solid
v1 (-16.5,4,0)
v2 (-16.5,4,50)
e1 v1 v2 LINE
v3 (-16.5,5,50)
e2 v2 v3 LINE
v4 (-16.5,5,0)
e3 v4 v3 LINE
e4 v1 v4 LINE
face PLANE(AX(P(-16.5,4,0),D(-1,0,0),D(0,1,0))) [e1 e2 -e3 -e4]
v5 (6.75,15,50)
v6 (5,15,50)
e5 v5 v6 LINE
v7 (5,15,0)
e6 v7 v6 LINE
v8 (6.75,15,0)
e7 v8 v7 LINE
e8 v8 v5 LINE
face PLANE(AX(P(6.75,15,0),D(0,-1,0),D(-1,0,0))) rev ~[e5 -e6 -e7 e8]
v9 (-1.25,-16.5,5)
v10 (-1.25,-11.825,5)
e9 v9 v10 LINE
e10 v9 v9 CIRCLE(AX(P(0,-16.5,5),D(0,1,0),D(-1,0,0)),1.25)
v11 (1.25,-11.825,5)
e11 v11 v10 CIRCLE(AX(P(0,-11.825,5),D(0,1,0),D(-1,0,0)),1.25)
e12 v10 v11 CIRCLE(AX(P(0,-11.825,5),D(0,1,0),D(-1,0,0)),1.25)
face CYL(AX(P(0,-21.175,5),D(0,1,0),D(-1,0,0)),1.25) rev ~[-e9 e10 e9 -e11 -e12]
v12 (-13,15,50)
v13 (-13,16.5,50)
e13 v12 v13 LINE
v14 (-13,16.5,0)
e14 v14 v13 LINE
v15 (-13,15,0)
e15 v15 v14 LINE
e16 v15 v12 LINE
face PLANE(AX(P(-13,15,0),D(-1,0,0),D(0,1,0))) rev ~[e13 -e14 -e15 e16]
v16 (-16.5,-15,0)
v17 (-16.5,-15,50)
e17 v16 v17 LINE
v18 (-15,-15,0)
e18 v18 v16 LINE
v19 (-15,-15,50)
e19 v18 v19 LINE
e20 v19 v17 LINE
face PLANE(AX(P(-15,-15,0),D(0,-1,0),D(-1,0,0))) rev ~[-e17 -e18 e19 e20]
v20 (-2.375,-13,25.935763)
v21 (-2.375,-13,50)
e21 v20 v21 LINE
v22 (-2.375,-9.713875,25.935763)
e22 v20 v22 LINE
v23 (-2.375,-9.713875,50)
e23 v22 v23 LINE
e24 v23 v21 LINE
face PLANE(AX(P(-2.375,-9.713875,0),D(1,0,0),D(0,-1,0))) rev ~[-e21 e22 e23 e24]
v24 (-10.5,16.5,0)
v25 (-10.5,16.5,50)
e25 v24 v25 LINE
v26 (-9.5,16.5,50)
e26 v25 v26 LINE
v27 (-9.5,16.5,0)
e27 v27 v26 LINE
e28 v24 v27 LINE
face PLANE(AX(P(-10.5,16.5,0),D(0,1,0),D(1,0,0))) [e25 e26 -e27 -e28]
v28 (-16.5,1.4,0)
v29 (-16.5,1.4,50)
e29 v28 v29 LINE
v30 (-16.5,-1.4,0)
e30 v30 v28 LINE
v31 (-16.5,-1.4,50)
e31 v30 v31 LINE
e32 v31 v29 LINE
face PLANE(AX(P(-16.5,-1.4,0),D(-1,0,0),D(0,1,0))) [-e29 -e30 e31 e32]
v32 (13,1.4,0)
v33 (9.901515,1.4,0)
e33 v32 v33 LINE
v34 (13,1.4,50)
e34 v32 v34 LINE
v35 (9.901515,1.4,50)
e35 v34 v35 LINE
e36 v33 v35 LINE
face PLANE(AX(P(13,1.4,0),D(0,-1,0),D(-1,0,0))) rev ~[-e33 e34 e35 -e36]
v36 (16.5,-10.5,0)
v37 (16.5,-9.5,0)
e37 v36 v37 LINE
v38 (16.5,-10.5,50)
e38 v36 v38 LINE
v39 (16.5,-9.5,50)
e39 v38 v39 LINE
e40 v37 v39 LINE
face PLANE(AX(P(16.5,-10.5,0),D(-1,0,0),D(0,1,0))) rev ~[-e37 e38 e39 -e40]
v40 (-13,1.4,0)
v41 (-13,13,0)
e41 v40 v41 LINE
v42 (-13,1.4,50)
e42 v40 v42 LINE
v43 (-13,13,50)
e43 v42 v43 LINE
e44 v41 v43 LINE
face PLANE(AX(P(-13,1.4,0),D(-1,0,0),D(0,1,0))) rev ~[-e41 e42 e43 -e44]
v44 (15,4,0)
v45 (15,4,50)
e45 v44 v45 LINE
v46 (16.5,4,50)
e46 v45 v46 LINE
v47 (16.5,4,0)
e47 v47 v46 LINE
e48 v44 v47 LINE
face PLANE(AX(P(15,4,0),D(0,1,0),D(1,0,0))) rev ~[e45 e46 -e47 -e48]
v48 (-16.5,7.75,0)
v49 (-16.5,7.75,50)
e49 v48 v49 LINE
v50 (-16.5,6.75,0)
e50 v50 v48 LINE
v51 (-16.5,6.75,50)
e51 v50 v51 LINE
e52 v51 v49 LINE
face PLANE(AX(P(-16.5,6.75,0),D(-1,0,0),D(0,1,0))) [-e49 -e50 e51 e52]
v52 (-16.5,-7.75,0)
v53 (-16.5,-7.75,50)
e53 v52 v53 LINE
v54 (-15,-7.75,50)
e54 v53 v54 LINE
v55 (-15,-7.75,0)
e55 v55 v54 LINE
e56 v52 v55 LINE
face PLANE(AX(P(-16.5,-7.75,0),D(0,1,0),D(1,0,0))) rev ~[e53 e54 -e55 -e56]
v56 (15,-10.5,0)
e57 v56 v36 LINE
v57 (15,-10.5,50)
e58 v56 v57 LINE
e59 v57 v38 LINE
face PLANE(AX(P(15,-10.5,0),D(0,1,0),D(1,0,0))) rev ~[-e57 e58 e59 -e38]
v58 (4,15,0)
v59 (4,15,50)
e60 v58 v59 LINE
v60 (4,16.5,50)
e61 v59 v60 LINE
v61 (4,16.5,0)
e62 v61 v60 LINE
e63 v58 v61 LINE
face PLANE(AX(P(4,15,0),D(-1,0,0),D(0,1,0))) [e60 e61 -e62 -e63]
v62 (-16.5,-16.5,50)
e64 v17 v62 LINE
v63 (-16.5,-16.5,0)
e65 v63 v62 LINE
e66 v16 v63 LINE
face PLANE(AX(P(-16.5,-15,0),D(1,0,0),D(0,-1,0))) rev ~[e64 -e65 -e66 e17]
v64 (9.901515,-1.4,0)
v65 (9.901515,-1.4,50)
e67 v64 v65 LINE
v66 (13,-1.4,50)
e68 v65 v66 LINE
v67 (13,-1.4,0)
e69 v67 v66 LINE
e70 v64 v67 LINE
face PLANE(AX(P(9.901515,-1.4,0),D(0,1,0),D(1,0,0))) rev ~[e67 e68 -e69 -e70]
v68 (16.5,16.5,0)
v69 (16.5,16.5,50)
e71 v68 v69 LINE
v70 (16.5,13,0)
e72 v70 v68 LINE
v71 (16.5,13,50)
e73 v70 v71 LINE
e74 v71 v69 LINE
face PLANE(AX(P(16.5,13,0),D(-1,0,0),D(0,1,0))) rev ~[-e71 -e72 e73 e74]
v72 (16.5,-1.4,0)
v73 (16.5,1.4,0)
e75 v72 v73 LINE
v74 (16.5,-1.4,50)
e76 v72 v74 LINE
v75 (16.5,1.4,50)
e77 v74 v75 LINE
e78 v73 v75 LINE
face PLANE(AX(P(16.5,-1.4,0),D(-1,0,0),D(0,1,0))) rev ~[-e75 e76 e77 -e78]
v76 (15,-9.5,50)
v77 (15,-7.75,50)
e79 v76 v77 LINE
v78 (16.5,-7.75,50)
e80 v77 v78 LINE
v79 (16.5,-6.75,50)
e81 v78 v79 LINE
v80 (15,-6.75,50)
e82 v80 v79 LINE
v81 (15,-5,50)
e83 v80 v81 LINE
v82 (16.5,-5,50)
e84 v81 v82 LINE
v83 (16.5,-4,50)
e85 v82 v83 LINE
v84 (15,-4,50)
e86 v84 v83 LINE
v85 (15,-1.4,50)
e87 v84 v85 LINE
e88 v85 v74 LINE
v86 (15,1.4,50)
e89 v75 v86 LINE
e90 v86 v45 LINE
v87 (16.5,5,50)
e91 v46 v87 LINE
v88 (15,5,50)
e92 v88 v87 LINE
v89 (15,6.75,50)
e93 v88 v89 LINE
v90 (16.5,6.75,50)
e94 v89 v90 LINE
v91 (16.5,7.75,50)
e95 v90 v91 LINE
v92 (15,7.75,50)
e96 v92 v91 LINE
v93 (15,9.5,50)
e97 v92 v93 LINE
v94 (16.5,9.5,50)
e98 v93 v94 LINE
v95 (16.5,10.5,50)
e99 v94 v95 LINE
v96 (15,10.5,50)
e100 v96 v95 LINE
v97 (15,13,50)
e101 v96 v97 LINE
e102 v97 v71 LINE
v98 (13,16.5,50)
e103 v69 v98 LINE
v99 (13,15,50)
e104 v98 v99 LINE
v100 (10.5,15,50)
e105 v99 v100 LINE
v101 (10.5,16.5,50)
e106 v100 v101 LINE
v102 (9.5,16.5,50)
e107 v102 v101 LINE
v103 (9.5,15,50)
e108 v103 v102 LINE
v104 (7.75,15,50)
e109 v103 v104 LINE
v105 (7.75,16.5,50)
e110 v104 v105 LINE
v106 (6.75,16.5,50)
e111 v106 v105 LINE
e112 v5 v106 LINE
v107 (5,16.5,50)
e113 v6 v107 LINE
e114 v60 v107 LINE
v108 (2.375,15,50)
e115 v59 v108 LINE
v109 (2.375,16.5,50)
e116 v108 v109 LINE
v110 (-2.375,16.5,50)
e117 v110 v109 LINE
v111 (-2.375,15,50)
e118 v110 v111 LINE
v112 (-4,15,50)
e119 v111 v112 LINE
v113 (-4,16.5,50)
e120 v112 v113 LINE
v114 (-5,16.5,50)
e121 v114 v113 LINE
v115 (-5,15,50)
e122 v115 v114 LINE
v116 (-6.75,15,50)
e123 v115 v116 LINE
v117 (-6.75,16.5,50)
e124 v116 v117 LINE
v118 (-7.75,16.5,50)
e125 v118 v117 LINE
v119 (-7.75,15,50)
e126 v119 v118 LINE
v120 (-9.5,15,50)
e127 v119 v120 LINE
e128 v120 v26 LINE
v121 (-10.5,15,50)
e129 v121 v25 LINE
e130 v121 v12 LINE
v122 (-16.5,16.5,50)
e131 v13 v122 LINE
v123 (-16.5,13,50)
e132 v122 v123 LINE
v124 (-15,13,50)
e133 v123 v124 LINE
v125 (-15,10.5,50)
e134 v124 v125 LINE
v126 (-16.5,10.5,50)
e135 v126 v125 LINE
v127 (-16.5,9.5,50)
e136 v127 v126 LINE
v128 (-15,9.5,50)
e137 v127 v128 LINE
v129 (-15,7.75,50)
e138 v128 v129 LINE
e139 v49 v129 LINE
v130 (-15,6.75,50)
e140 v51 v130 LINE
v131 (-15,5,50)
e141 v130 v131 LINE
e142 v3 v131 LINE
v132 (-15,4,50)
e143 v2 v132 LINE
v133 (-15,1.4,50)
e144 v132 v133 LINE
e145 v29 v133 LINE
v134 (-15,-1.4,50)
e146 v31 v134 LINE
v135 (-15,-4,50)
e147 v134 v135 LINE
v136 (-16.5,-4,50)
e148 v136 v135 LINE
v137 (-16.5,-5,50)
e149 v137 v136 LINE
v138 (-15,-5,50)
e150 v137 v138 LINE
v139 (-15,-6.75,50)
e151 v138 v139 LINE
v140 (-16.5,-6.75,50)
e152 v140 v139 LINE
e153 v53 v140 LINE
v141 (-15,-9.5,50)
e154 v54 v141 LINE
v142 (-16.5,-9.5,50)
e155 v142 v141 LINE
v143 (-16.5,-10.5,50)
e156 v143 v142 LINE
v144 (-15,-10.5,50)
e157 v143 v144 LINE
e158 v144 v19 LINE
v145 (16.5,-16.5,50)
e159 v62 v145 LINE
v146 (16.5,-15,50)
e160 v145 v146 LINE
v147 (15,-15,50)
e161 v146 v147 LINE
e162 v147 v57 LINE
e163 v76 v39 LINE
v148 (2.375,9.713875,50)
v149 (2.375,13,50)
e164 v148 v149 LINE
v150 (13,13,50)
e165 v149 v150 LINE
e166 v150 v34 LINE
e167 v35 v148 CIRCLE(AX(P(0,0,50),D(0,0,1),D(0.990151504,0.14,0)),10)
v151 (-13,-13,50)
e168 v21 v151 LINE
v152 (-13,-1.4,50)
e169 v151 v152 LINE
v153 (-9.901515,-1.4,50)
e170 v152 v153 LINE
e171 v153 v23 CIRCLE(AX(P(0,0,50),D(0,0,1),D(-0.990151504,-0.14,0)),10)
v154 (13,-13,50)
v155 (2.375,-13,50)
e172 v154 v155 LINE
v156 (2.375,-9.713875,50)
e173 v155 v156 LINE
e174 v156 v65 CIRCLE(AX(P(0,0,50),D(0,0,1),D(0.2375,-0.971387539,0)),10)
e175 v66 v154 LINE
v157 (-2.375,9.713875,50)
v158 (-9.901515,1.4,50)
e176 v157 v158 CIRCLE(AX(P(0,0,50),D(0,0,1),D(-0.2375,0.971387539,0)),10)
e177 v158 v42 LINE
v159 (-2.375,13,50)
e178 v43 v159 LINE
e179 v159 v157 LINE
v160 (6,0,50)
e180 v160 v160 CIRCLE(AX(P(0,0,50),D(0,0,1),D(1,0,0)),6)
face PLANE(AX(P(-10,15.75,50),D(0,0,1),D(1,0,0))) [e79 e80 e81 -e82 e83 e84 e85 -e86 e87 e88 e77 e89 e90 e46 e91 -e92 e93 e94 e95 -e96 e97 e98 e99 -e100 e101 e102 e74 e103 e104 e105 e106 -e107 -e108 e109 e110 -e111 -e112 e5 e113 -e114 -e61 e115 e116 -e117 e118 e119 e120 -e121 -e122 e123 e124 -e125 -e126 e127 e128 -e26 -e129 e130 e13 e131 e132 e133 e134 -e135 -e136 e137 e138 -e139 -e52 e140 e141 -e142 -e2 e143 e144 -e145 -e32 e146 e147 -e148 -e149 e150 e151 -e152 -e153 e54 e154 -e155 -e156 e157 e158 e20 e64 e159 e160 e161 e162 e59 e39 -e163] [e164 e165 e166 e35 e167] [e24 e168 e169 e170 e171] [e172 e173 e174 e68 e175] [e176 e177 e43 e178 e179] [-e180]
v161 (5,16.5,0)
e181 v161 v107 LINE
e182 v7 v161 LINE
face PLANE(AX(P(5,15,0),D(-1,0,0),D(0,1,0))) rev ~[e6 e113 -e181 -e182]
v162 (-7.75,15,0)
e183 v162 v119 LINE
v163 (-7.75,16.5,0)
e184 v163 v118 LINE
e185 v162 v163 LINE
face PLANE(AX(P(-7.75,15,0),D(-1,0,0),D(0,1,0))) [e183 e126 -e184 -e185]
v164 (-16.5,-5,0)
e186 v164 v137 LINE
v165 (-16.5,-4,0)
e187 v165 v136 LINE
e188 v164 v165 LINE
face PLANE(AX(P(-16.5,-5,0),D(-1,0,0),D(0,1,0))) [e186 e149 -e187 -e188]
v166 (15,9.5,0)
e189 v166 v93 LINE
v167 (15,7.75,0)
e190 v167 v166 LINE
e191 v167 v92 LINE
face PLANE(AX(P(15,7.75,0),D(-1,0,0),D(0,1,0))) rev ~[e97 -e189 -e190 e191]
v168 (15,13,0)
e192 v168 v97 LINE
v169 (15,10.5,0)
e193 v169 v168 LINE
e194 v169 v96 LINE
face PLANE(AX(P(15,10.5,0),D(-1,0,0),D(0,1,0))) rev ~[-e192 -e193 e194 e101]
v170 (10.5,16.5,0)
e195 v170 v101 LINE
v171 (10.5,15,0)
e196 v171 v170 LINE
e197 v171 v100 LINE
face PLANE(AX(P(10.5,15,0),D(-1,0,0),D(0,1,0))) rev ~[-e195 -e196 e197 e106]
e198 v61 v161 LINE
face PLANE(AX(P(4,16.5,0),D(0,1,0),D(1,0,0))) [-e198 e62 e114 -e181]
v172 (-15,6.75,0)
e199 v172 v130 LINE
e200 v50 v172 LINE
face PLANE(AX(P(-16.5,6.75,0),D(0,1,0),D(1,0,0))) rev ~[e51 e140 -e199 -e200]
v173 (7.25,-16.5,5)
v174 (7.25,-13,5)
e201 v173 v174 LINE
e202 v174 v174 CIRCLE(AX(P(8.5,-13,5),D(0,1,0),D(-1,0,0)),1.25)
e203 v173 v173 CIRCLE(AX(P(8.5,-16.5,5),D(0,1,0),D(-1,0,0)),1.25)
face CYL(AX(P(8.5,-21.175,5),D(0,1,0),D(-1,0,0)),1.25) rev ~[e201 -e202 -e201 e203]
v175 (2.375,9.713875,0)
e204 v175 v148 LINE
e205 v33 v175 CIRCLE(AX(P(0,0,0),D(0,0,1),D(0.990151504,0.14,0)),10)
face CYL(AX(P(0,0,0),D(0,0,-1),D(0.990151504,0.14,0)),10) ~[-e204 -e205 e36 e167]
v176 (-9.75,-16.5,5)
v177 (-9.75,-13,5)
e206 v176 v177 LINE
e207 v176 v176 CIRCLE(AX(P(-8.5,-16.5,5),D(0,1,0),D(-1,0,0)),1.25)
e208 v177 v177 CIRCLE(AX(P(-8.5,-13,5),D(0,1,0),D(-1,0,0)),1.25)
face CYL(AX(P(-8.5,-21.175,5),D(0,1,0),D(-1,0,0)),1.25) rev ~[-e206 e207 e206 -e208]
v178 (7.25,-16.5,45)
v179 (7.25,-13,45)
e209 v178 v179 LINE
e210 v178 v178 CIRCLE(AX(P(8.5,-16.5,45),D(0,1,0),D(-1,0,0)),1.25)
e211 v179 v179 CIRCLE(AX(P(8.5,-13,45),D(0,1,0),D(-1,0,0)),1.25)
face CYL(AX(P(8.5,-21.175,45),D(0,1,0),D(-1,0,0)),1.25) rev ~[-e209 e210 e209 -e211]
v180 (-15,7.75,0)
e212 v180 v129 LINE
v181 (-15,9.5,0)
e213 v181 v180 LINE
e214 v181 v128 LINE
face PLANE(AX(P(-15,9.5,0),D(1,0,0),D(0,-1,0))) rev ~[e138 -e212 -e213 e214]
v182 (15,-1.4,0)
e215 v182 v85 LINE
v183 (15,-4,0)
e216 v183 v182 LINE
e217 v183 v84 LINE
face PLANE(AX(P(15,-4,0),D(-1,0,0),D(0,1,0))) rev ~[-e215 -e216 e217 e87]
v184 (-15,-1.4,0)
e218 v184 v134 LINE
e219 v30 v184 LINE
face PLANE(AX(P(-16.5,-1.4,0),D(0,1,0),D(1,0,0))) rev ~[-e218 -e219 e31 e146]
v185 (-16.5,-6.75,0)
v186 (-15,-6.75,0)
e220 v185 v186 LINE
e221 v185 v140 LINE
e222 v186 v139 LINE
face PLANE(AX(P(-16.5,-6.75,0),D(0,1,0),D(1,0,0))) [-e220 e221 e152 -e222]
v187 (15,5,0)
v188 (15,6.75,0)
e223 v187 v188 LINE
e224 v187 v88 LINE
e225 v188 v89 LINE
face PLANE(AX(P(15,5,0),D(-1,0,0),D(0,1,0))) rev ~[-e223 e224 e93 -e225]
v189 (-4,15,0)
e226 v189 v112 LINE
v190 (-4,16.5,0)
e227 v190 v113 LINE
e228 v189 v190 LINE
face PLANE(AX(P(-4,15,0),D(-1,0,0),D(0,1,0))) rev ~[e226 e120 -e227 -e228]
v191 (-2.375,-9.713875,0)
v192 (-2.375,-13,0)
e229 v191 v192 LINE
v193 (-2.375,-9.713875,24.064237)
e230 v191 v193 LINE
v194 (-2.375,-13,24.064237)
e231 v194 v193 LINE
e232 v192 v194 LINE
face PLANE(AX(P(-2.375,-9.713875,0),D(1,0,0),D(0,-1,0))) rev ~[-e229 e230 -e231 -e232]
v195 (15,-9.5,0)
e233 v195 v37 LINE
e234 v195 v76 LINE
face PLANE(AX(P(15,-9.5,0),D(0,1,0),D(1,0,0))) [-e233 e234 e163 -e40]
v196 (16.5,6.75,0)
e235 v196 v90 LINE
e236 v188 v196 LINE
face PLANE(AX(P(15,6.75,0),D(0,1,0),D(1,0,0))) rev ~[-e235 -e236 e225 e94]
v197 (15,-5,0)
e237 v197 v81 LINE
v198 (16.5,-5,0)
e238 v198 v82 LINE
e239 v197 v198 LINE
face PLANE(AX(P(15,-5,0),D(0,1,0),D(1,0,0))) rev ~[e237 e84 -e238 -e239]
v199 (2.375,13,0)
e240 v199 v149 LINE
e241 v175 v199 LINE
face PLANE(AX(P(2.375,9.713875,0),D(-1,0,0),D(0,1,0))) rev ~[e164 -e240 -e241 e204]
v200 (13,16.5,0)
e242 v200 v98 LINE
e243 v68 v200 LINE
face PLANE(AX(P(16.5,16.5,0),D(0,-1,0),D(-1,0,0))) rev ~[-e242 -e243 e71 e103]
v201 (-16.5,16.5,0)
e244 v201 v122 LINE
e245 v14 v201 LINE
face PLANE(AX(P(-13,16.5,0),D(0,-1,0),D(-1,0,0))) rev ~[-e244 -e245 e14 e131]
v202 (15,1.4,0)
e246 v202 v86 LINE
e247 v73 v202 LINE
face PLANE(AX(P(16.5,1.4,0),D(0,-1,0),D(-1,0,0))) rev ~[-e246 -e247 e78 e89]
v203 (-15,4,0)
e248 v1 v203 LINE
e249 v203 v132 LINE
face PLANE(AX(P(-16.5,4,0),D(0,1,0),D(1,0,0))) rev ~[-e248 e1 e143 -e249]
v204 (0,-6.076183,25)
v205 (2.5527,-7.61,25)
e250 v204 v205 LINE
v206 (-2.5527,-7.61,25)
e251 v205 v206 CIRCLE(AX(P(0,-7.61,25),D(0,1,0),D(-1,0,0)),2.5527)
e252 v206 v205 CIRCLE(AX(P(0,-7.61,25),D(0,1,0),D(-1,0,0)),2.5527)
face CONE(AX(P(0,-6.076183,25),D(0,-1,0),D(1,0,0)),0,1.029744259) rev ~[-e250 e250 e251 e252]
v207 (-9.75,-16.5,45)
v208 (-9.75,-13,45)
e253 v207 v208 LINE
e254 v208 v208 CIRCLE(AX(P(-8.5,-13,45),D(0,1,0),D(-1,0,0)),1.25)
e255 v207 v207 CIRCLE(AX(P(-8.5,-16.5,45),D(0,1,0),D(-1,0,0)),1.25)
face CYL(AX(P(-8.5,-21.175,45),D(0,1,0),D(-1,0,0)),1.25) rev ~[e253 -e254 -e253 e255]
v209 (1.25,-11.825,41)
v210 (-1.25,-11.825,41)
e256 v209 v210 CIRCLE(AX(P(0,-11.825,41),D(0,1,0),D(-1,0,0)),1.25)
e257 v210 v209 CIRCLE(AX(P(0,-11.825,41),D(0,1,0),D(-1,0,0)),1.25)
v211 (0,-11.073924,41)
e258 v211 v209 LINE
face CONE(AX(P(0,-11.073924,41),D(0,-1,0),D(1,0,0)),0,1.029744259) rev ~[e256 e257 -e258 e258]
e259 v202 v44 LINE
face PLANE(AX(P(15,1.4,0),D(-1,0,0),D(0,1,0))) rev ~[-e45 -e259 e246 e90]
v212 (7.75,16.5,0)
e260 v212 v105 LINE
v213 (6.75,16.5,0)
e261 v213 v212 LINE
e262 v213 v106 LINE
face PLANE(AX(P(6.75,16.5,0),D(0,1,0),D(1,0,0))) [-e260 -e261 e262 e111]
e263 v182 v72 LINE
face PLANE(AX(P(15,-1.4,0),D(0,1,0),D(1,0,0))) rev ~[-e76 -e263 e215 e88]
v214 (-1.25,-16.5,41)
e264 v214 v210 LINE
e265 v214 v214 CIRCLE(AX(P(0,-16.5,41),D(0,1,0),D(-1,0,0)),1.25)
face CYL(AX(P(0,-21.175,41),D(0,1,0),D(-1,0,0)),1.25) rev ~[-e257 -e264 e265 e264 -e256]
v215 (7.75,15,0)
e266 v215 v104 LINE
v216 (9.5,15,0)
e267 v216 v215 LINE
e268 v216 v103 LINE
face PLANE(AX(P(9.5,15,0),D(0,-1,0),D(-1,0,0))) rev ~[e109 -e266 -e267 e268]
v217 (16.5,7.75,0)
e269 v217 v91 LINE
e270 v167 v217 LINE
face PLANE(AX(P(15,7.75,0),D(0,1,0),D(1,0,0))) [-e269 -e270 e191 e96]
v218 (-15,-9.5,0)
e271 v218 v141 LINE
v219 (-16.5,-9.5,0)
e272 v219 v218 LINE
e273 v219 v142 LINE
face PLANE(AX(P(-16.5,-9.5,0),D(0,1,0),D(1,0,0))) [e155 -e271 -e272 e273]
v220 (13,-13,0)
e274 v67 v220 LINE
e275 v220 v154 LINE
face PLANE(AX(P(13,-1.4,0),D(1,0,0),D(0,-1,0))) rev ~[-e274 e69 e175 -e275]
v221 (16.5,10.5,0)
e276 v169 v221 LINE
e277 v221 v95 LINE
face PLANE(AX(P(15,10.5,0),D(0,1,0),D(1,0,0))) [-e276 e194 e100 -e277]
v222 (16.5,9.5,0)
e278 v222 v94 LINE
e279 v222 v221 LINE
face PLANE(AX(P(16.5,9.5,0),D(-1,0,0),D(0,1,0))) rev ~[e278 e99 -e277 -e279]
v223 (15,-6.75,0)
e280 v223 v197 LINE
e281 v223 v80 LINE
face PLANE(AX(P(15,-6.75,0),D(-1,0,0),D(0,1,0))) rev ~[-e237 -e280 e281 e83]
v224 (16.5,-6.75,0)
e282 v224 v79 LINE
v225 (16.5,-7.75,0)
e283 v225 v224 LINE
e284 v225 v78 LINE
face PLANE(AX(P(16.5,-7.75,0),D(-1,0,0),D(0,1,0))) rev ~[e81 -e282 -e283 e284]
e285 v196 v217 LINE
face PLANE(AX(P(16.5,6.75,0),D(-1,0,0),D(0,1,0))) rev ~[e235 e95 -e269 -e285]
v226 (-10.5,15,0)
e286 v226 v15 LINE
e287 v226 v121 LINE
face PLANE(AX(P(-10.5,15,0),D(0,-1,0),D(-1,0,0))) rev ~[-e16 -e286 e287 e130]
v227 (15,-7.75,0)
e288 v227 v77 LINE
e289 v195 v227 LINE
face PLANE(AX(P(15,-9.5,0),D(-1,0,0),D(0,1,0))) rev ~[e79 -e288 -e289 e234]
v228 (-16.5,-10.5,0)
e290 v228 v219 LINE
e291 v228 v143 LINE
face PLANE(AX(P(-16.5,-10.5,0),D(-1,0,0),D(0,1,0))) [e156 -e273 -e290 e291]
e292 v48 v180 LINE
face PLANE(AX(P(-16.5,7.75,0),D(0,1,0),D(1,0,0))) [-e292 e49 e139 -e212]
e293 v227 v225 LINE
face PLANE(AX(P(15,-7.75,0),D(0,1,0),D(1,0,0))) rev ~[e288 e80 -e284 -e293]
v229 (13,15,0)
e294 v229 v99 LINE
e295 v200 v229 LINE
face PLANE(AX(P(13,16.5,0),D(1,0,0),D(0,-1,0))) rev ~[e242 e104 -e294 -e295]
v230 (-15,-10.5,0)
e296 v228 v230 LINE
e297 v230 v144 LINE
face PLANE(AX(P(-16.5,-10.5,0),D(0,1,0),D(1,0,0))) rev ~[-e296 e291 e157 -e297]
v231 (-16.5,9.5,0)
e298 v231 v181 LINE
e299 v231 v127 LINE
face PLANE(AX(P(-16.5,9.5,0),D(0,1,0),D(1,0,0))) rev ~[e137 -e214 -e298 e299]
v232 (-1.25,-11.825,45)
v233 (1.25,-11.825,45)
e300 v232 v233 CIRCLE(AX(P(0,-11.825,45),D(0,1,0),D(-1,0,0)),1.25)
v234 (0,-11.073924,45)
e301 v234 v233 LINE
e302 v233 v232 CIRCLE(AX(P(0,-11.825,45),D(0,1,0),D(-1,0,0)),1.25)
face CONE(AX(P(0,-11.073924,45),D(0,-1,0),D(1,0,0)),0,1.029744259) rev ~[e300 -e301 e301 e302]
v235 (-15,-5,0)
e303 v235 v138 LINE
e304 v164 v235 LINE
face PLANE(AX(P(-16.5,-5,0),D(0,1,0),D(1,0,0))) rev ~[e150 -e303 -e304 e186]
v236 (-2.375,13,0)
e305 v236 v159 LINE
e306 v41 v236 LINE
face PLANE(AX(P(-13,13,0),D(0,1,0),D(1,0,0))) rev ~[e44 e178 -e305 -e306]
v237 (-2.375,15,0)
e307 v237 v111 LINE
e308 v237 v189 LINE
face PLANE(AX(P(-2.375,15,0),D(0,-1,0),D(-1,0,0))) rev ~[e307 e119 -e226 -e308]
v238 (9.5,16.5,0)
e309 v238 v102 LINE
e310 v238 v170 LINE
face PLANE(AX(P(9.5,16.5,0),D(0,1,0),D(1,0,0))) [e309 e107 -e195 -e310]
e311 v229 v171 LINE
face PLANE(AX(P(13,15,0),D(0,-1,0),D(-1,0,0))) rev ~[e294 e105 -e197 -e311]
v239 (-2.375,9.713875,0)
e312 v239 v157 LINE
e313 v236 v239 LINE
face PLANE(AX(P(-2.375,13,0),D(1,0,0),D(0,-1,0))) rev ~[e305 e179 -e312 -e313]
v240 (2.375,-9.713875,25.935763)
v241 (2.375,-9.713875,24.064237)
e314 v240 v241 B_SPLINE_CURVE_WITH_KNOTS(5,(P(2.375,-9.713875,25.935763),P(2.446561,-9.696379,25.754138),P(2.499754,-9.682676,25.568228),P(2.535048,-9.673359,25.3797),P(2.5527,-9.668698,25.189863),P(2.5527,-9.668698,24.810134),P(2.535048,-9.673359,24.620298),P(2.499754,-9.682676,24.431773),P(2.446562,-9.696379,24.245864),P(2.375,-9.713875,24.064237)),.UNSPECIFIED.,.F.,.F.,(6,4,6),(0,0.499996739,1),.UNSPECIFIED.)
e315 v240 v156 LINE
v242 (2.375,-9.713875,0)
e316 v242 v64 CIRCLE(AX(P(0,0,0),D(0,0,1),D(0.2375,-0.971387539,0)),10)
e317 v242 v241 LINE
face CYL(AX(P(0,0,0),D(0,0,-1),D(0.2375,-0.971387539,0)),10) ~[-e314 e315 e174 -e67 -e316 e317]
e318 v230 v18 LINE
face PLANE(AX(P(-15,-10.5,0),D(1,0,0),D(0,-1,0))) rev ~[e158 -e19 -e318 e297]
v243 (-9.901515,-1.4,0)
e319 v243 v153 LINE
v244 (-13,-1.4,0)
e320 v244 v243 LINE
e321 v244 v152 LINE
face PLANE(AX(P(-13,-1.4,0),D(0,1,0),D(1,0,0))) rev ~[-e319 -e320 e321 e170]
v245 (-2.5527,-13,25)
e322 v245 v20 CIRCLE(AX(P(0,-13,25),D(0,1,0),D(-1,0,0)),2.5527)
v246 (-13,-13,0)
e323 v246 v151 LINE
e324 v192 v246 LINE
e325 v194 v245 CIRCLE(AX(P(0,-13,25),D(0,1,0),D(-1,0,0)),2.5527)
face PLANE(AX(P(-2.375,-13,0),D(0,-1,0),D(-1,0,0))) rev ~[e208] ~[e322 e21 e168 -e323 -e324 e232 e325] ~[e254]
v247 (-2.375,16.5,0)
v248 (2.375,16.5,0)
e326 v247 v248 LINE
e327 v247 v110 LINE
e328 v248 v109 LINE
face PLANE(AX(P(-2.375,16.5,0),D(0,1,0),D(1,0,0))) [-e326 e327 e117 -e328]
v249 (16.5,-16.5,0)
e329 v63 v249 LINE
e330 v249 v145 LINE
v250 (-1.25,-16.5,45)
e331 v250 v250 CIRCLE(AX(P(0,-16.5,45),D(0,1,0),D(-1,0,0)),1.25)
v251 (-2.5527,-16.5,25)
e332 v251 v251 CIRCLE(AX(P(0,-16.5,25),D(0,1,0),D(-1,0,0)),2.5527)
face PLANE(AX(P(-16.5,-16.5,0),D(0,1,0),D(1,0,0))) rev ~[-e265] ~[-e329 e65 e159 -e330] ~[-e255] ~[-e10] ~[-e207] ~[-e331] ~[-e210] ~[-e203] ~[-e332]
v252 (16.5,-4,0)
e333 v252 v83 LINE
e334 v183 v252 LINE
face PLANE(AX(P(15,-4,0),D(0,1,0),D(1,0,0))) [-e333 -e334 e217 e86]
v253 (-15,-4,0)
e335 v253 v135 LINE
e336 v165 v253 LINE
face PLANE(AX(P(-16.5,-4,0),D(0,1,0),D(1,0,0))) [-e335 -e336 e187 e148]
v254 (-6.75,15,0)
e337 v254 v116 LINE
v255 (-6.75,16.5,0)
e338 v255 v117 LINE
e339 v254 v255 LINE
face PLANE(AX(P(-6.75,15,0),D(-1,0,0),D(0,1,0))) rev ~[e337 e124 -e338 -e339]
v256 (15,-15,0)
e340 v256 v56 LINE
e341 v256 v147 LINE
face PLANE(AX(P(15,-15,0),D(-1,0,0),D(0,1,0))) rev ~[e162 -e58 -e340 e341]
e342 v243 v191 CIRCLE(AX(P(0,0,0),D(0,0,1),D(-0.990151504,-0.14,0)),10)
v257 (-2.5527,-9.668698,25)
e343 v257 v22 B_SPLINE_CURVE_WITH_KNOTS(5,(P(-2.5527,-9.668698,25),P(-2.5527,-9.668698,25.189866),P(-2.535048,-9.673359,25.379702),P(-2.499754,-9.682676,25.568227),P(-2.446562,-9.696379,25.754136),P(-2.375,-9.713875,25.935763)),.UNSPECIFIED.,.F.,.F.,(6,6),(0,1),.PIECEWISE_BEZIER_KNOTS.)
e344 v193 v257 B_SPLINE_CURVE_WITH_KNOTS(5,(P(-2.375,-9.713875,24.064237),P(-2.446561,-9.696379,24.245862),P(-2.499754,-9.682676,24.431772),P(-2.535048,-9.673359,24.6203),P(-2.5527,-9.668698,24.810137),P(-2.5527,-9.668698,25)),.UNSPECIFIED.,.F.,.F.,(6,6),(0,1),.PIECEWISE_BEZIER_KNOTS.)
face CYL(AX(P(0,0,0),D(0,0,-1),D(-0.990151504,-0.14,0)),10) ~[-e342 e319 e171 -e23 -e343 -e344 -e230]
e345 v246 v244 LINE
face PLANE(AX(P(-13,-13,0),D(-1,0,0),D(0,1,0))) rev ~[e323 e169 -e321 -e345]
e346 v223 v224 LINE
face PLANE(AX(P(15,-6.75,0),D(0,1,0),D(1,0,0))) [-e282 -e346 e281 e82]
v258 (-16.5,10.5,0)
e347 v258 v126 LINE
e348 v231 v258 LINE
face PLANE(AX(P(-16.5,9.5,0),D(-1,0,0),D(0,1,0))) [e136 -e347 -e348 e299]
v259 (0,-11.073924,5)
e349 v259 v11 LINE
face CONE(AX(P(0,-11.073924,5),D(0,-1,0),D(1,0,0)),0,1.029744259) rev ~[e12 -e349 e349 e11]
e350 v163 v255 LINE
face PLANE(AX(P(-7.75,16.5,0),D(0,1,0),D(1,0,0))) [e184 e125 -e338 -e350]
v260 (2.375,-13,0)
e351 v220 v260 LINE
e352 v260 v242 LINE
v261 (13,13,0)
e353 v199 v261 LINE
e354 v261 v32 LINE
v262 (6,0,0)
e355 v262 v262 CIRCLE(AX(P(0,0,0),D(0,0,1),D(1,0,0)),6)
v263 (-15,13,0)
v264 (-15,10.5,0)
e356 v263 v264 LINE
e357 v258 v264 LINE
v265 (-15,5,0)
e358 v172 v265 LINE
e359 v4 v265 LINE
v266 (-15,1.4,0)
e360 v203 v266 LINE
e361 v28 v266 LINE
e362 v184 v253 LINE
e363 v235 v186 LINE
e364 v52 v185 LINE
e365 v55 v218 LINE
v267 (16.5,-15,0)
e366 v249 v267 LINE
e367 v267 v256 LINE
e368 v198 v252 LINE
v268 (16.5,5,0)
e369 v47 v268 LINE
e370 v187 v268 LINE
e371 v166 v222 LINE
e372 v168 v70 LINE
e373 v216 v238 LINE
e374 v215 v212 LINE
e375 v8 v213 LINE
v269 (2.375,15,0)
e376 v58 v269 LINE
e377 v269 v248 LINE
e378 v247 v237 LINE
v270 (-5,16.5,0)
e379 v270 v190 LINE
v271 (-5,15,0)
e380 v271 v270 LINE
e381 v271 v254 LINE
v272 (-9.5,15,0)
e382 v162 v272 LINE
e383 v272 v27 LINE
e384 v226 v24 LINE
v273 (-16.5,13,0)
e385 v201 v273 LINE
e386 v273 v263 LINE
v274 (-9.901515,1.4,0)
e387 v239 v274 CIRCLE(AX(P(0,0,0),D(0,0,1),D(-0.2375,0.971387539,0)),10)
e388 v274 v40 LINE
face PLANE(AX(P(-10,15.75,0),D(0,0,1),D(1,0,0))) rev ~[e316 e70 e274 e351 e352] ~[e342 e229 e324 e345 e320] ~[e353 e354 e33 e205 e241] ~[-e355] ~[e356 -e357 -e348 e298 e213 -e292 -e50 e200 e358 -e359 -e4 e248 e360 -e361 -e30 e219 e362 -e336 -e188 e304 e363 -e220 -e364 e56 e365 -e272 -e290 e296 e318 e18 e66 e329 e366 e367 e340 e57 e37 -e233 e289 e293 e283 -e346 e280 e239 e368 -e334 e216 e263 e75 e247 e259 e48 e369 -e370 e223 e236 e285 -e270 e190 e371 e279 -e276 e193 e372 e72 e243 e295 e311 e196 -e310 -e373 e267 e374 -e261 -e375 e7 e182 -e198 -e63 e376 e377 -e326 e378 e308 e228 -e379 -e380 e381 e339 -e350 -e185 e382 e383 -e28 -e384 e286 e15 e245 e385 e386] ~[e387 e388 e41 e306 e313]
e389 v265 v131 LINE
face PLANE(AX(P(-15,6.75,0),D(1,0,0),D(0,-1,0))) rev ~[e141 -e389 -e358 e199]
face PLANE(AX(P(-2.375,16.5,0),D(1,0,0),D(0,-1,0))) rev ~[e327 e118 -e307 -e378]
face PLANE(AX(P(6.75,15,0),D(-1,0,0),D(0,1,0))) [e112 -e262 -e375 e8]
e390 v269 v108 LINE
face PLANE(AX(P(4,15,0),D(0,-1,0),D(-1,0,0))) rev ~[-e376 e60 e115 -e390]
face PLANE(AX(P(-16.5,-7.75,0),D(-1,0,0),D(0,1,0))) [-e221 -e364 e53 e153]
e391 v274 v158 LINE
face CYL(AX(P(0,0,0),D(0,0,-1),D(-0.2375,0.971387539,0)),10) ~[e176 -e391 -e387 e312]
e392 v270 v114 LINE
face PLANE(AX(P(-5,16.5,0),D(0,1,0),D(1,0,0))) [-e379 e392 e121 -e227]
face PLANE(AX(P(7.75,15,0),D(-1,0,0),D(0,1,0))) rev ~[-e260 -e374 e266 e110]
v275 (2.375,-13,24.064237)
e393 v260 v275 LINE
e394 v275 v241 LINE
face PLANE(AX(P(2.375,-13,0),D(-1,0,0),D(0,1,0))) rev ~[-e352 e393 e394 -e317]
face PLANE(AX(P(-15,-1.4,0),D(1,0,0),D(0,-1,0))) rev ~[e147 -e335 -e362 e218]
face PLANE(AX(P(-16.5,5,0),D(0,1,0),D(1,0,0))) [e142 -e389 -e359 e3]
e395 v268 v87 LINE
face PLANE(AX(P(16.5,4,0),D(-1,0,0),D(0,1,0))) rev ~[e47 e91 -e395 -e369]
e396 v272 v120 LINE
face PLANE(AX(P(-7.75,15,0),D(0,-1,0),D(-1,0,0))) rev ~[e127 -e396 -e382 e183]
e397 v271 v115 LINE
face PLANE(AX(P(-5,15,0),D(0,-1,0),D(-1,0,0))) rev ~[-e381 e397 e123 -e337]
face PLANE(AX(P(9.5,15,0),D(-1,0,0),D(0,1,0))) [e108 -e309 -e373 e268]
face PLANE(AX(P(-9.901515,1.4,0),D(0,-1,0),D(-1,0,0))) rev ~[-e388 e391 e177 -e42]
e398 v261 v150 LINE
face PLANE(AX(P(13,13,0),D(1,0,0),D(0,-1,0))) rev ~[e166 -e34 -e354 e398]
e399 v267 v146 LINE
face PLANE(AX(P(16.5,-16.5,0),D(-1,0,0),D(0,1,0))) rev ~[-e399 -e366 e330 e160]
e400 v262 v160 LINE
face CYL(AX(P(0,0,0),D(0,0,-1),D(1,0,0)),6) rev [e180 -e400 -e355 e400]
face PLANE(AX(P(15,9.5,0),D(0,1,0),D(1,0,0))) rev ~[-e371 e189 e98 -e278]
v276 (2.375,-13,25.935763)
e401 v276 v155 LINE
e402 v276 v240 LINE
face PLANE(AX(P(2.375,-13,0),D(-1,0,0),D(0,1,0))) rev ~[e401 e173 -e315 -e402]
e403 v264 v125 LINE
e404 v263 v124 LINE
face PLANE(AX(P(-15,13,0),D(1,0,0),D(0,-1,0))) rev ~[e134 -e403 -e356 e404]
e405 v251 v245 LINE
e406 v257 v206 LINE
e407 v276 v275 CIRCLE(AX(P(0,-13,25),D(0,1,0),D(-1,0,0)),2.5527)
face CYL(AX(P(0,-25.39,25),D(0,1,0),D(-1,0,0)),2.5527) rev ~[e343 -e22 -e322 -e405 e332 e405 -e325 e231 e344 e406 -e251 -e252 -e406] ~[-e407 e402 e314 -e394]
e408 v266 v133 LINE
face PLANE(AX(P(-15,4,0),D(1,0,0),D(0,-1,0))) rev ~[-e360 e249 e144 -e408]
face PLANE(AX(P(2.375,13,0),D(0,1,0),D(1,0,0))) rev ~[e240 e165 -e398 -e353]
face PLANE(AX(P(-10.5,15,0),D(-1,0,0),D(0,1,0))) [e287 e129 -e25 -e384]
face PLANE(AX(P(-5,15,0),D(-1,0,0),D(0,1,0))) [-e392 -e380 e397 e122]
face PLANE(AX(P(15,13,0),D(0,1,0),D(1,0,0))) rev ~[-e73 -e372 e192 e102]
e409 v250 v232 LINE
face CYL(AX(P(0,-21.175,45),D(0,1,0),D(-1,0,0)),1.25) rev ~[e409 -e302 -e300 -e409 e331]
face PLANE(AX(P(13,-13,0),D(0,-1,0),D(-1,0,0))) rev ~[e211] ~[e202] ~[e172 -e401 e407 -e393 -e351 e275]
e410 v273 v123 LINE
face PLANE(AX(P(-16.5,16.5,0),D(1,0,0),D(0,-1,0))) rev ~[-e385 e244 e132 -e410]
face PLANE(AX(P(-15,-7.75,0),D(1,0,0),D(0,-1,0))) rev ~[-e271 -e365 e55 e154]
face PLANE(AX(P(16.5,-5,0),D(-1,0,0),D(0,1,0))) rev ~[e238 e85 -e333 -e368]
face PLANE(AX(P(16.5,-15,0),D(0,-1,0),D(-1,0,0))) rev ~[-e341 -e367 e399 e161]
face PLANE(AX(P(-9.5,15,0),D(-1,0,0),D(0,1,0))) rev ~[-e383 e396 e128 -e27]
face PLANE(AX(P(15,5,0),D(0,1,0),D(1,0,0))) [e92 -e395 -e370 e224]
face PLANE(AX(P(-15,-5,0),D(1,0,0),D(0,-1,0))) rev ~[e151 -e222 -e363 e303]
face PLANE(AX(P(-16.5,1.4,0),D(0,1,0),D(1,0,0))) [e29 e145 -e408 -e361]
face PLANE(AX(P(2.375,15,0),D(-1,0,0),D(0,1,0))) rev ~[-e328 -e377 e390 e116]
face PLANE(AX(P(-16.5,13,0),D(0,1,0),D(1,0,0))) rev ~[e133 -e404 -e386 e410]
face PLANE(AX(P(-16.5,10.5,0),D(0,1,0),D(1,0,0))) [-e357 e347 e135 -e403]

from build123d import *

# Parameters (mm, degrees)
F0_W     = 1
F0_H     = 1.5
F0_W_2   = 2
F0_H_2   = 2
F0_W_3   = 4.75
F0_W_4   = 1.5
F0_H_3   = 1
F0_H_4   = 2.8
F0_R     = 6
F1_DEPTH = 50
F3_D     = 5.1054
F3_DEPTH = 8.89
F3_TIP   = 1.5338169022
F4_D     = 2.5
F4_DEPTH = 4.675
F4_TIP   = 0.7510757738


with BuildPart() as f1:
    # F0 (on Top) → F1 (new body)
    with BuildSketch(Plane.XY):
        with Locations((-10, 15.75)):
            Rectangle(F0_W, F0_H)
        with Locations((-7.25, 15.75)):
            Rectangle(F0_W, F0_H)
        with Locations((-4.5, 15.75)):
            Rectangle(F0_W, F0_H)
        with Locations((4.5, 15.75)):
            Rectangle(F0_W, F0_H)
        with Locations((7.25, 15.75)):
            Rectangle(F0_W, F0_H)
        with Locations((10, 15.75)):
            Rectangle(F0_W, F0_H)
        Polygon((16.5, 13), (16.5, 16.5), (13, 16.5), (13, 15), (15, 15), (15, 13), align=None)
        with Locations((14, 14)):
            Rectangle(F0_W_2, F0_H_2)
        Polygon((13, 13), (13, 15), (10.5, 15), (9.5, 15), (7.75, 15), (6.75, 15), (5, 15), (4, 15), (2.375, 15), (2.375, 13), align=None)
        with Locations((0, 14)):
            Rectangle(F0_W_3, F0_H_2)
        with Locations((0, 15.75)):
            Rectangle(F0_W_3, F0_H)
        Polygon((-13, 13), (-2.375, 13), (-2.375, 15), (-4, 15), (-5, 15), (-6.75, 15), (-7.75, 15), (-9.5, 15), (-10.5, 15), (-13, 15), align=None)
        with Locations((-14, 14)):
            Rectangle(F0_W_2, F0_H_2)
        Polygon((-16.5, 13), (-15, 13), (-15, 15), (-13, 15), (-13, 16.5), (-16.5, 16.5), align=None)
        Polygon((-13, 1.4), (-13, 13), (-15, 13), (-15, 10.5), (-15, 9.5), (-15, 7.75), (-15, 6.75), (-15, 5), (-15, 4), (-15, 1.4), align=None)
        with Locations((-15.75, 10)):
            Rectangle(F0_W_4, F0_H_3)
        with Locations((-15.75, 7.25)):
            Rectangle(F0_W_4, F0_H_3)
        with Locations((-15.75, 4.5)):
            Rectangle(F0_W_4, F0_H_3)
        with Locations((-15.75, 0)):
            Rectangle(F0_W_4, F0_H_4)
        with Locations((-15.75, -4.5)):
            Rectangle(F0_W_4, F0_H_3)
        with Locations((-15.75, -7.25)):
            Rectangle(F0_W_4, F0_H_3)
        with Locations((-15.75, -10)):
            Rectangle(F0_W_4, F0_H_3)
        Polygon((-2.375, -15), (-2.375, -13), (-13, -13), (-13, -1.4), (-15, -1.4), (-15, -4), (-15, -5), (-15, -6.75), (-15, -7.75), (-15, -9.5), (-15, -10.5), (-15, -15), align=None)
        with Locations((-14, 0)):
            Rectangle(F0_W_2, F0_H_4)
        with BuildLine():
            ThreePointArc((-9.9015150356, -1.4), (-10, 0), (-9.9015150356, 1.4))
            Line((-9.9015150356, 1.4), (-13, 1.4))
            Line((-13, 1.4), (-13, -1.4))
            Line((-13, -1.4), (-9.9015150356, -1.4))
        make_face()
        with BuildLine():
            Line((2.375, 9.7138753852), (2.375, 13))
            Line((2.375, 13), (-2.375, 13))
            Line((-2.375, 13), (-2.375, 9.7138753852))
            ThreePointArc((-2.375, 9.7138753852), (0, 10), (2.375, 9.7138753852))
        make_face()
        with BuildLine():
            Line((13, -1.4), (13, 1.4))
            Line((13, 1.4), (9.9015150356, 1.4))
            ThreePointArc((9.9015150356, 1.4), (9.9753483738, 0.7017298783), (10, 0))
            ThreePointArc((10, 0), (9.9753483738, -0.7017298783), (9.9015150356, -1.4))
            Line((9.9015150356, -1.4), (13, -1.4))
        make_face()
        with Locations((14, 0)):
            Rectangle(F0_W_2, F0_H_4)
        with Locations((15.75, 10)):
            Rectangle(F0_W_4, F0_H_3)
        with Locations((15.75, 7.25)):
            Rectangle(F0_W_4, F0_H_3)
        with Locations((15.75, 4.5)):
            Rectangle(F0_W_4, F0_H_3)
        with Locations((15.75, 0)):
            Rectangle(F0_W_4, F0_H_4)
        Polygon((15, 10.5), (15, 13), (13, 13), (13, 1.4), (15, 1.4), (15, 4), (15, 5), (15, 6.75), (15, 7.75), (15, 9.5), align=None)
        Polygon((15, -1.4), (13, -1.4), (13, -13), (2.375, -13), (2.375, -15), (15, -15), (15, -10.5), (15, -9.5), (15, -7.75), (15, -6.75), (15, -5), (15, -4), align=None)
        with Locations((15.75, -4.5)):
            Rectangle(F0_W_4, F0_H_3)
        with Locations((15.75, -7.25)):
            Rectangle(F0_W_4, F0_H_3)
        with Locations((15.75, -10)):
            Rectangle(F0_W_4, F0_H_3)
        with Locations((0, -14)):
            Rectangle(F0_W_3, F0_H_2)
        with Locations((0, -15.75)):
            Rectangle(F0_W_3, F0_H)
        Polygon((15, -15), (2.375, -15), (2.375, -16.5), (16.5, -16.5), (16.5, -15), align=None)
        Polygon((-2.375, -16.5), (-2.375, -15), (-15, -15), (-16.5, -15), (-16.5, -16.5), align=None)
        with BuildLine():
            Line((2.375, -13), (2.375, -9.7138753852))
            ThreePointArc((2.375, -9.7138753852), (0, -10), (-2.375, -9.7138753852))
            Line((-2.375, -9.7138753852), (-2.375, -13))
            Line((-2.375, -13), (2.375, -13))
        make_face()
        with BuildLine():
            ThreePointArc((10, 0), (9.9753483738, 0.7017298783), (9.9015150356, 1.4))
            ThreePointArc((9.9015150356, 1.4), (7.4133889912, 6.7113086403), (2.375, 9.7138753852))
            ThreePointArc((2.375, 9.7138753852), (0, 10), (-2.375, 9.7138753852))
            ThreePointArc((-2.375, 9.7138753852), (-7.4133889912, 6.7113086403), (-9.9015150356, 1.4))
            ThreePointArc((-9.9015150356, 1.4), (-10, 0), (-9.9015150356, -1.4))
            ThreePointArc((-9.9015150356, -1.4), (-7.4133889912, -6.7113086403), (-2.375, -9.7138753852))
            ThreePointArc((-2.375, -9.7138753852), (0, -10), (2.375, -9.7138753852))
            ThreePointArc((2.375, -9.7138753852), (7.4133889912, -6.7113086403), (9.9015150356, -1.4))
            ThreePointArc((9.9015150356, -1.4), (9.9753483738, -0.7017298783), (10, 0))
        make_face()
        Circle(F0_R, mode=Mode.SUBTRACT)
    extrude(amount=F1_DEPTH)

    # F3
    with Locations(Plane.XZ.offset(16.5)):
        with Locations((0, 25)):
            Hole(F3_D / 2, depth=F3_DEPTH)
            with Locations((0, 0, -(F3_DEPTH + F3_TIP / 2))):  # 118° drill point
                Cone(0, F3_D / 2, F3_TIP, mode=Mode.SUBTRACT)

    # F4
    with Locations(Plane.XZ.offset(16.5)):
        with Locations((-8.5, 45), (0, 45), (0, 41), (8.5, 45), (8.5, 5), (0, 5), (-8.5, 5)):
            Hole(F4_D / 2, depth=F4_DEPTH)
            with Locations((0, 0, -(F4_DEPTH + F4_TIP / 2))):  # 118° drill point
                Cone(0, F4_D / 2, F4_TIP, mode=Mode.SUBTRACT)


solid = f1.part
